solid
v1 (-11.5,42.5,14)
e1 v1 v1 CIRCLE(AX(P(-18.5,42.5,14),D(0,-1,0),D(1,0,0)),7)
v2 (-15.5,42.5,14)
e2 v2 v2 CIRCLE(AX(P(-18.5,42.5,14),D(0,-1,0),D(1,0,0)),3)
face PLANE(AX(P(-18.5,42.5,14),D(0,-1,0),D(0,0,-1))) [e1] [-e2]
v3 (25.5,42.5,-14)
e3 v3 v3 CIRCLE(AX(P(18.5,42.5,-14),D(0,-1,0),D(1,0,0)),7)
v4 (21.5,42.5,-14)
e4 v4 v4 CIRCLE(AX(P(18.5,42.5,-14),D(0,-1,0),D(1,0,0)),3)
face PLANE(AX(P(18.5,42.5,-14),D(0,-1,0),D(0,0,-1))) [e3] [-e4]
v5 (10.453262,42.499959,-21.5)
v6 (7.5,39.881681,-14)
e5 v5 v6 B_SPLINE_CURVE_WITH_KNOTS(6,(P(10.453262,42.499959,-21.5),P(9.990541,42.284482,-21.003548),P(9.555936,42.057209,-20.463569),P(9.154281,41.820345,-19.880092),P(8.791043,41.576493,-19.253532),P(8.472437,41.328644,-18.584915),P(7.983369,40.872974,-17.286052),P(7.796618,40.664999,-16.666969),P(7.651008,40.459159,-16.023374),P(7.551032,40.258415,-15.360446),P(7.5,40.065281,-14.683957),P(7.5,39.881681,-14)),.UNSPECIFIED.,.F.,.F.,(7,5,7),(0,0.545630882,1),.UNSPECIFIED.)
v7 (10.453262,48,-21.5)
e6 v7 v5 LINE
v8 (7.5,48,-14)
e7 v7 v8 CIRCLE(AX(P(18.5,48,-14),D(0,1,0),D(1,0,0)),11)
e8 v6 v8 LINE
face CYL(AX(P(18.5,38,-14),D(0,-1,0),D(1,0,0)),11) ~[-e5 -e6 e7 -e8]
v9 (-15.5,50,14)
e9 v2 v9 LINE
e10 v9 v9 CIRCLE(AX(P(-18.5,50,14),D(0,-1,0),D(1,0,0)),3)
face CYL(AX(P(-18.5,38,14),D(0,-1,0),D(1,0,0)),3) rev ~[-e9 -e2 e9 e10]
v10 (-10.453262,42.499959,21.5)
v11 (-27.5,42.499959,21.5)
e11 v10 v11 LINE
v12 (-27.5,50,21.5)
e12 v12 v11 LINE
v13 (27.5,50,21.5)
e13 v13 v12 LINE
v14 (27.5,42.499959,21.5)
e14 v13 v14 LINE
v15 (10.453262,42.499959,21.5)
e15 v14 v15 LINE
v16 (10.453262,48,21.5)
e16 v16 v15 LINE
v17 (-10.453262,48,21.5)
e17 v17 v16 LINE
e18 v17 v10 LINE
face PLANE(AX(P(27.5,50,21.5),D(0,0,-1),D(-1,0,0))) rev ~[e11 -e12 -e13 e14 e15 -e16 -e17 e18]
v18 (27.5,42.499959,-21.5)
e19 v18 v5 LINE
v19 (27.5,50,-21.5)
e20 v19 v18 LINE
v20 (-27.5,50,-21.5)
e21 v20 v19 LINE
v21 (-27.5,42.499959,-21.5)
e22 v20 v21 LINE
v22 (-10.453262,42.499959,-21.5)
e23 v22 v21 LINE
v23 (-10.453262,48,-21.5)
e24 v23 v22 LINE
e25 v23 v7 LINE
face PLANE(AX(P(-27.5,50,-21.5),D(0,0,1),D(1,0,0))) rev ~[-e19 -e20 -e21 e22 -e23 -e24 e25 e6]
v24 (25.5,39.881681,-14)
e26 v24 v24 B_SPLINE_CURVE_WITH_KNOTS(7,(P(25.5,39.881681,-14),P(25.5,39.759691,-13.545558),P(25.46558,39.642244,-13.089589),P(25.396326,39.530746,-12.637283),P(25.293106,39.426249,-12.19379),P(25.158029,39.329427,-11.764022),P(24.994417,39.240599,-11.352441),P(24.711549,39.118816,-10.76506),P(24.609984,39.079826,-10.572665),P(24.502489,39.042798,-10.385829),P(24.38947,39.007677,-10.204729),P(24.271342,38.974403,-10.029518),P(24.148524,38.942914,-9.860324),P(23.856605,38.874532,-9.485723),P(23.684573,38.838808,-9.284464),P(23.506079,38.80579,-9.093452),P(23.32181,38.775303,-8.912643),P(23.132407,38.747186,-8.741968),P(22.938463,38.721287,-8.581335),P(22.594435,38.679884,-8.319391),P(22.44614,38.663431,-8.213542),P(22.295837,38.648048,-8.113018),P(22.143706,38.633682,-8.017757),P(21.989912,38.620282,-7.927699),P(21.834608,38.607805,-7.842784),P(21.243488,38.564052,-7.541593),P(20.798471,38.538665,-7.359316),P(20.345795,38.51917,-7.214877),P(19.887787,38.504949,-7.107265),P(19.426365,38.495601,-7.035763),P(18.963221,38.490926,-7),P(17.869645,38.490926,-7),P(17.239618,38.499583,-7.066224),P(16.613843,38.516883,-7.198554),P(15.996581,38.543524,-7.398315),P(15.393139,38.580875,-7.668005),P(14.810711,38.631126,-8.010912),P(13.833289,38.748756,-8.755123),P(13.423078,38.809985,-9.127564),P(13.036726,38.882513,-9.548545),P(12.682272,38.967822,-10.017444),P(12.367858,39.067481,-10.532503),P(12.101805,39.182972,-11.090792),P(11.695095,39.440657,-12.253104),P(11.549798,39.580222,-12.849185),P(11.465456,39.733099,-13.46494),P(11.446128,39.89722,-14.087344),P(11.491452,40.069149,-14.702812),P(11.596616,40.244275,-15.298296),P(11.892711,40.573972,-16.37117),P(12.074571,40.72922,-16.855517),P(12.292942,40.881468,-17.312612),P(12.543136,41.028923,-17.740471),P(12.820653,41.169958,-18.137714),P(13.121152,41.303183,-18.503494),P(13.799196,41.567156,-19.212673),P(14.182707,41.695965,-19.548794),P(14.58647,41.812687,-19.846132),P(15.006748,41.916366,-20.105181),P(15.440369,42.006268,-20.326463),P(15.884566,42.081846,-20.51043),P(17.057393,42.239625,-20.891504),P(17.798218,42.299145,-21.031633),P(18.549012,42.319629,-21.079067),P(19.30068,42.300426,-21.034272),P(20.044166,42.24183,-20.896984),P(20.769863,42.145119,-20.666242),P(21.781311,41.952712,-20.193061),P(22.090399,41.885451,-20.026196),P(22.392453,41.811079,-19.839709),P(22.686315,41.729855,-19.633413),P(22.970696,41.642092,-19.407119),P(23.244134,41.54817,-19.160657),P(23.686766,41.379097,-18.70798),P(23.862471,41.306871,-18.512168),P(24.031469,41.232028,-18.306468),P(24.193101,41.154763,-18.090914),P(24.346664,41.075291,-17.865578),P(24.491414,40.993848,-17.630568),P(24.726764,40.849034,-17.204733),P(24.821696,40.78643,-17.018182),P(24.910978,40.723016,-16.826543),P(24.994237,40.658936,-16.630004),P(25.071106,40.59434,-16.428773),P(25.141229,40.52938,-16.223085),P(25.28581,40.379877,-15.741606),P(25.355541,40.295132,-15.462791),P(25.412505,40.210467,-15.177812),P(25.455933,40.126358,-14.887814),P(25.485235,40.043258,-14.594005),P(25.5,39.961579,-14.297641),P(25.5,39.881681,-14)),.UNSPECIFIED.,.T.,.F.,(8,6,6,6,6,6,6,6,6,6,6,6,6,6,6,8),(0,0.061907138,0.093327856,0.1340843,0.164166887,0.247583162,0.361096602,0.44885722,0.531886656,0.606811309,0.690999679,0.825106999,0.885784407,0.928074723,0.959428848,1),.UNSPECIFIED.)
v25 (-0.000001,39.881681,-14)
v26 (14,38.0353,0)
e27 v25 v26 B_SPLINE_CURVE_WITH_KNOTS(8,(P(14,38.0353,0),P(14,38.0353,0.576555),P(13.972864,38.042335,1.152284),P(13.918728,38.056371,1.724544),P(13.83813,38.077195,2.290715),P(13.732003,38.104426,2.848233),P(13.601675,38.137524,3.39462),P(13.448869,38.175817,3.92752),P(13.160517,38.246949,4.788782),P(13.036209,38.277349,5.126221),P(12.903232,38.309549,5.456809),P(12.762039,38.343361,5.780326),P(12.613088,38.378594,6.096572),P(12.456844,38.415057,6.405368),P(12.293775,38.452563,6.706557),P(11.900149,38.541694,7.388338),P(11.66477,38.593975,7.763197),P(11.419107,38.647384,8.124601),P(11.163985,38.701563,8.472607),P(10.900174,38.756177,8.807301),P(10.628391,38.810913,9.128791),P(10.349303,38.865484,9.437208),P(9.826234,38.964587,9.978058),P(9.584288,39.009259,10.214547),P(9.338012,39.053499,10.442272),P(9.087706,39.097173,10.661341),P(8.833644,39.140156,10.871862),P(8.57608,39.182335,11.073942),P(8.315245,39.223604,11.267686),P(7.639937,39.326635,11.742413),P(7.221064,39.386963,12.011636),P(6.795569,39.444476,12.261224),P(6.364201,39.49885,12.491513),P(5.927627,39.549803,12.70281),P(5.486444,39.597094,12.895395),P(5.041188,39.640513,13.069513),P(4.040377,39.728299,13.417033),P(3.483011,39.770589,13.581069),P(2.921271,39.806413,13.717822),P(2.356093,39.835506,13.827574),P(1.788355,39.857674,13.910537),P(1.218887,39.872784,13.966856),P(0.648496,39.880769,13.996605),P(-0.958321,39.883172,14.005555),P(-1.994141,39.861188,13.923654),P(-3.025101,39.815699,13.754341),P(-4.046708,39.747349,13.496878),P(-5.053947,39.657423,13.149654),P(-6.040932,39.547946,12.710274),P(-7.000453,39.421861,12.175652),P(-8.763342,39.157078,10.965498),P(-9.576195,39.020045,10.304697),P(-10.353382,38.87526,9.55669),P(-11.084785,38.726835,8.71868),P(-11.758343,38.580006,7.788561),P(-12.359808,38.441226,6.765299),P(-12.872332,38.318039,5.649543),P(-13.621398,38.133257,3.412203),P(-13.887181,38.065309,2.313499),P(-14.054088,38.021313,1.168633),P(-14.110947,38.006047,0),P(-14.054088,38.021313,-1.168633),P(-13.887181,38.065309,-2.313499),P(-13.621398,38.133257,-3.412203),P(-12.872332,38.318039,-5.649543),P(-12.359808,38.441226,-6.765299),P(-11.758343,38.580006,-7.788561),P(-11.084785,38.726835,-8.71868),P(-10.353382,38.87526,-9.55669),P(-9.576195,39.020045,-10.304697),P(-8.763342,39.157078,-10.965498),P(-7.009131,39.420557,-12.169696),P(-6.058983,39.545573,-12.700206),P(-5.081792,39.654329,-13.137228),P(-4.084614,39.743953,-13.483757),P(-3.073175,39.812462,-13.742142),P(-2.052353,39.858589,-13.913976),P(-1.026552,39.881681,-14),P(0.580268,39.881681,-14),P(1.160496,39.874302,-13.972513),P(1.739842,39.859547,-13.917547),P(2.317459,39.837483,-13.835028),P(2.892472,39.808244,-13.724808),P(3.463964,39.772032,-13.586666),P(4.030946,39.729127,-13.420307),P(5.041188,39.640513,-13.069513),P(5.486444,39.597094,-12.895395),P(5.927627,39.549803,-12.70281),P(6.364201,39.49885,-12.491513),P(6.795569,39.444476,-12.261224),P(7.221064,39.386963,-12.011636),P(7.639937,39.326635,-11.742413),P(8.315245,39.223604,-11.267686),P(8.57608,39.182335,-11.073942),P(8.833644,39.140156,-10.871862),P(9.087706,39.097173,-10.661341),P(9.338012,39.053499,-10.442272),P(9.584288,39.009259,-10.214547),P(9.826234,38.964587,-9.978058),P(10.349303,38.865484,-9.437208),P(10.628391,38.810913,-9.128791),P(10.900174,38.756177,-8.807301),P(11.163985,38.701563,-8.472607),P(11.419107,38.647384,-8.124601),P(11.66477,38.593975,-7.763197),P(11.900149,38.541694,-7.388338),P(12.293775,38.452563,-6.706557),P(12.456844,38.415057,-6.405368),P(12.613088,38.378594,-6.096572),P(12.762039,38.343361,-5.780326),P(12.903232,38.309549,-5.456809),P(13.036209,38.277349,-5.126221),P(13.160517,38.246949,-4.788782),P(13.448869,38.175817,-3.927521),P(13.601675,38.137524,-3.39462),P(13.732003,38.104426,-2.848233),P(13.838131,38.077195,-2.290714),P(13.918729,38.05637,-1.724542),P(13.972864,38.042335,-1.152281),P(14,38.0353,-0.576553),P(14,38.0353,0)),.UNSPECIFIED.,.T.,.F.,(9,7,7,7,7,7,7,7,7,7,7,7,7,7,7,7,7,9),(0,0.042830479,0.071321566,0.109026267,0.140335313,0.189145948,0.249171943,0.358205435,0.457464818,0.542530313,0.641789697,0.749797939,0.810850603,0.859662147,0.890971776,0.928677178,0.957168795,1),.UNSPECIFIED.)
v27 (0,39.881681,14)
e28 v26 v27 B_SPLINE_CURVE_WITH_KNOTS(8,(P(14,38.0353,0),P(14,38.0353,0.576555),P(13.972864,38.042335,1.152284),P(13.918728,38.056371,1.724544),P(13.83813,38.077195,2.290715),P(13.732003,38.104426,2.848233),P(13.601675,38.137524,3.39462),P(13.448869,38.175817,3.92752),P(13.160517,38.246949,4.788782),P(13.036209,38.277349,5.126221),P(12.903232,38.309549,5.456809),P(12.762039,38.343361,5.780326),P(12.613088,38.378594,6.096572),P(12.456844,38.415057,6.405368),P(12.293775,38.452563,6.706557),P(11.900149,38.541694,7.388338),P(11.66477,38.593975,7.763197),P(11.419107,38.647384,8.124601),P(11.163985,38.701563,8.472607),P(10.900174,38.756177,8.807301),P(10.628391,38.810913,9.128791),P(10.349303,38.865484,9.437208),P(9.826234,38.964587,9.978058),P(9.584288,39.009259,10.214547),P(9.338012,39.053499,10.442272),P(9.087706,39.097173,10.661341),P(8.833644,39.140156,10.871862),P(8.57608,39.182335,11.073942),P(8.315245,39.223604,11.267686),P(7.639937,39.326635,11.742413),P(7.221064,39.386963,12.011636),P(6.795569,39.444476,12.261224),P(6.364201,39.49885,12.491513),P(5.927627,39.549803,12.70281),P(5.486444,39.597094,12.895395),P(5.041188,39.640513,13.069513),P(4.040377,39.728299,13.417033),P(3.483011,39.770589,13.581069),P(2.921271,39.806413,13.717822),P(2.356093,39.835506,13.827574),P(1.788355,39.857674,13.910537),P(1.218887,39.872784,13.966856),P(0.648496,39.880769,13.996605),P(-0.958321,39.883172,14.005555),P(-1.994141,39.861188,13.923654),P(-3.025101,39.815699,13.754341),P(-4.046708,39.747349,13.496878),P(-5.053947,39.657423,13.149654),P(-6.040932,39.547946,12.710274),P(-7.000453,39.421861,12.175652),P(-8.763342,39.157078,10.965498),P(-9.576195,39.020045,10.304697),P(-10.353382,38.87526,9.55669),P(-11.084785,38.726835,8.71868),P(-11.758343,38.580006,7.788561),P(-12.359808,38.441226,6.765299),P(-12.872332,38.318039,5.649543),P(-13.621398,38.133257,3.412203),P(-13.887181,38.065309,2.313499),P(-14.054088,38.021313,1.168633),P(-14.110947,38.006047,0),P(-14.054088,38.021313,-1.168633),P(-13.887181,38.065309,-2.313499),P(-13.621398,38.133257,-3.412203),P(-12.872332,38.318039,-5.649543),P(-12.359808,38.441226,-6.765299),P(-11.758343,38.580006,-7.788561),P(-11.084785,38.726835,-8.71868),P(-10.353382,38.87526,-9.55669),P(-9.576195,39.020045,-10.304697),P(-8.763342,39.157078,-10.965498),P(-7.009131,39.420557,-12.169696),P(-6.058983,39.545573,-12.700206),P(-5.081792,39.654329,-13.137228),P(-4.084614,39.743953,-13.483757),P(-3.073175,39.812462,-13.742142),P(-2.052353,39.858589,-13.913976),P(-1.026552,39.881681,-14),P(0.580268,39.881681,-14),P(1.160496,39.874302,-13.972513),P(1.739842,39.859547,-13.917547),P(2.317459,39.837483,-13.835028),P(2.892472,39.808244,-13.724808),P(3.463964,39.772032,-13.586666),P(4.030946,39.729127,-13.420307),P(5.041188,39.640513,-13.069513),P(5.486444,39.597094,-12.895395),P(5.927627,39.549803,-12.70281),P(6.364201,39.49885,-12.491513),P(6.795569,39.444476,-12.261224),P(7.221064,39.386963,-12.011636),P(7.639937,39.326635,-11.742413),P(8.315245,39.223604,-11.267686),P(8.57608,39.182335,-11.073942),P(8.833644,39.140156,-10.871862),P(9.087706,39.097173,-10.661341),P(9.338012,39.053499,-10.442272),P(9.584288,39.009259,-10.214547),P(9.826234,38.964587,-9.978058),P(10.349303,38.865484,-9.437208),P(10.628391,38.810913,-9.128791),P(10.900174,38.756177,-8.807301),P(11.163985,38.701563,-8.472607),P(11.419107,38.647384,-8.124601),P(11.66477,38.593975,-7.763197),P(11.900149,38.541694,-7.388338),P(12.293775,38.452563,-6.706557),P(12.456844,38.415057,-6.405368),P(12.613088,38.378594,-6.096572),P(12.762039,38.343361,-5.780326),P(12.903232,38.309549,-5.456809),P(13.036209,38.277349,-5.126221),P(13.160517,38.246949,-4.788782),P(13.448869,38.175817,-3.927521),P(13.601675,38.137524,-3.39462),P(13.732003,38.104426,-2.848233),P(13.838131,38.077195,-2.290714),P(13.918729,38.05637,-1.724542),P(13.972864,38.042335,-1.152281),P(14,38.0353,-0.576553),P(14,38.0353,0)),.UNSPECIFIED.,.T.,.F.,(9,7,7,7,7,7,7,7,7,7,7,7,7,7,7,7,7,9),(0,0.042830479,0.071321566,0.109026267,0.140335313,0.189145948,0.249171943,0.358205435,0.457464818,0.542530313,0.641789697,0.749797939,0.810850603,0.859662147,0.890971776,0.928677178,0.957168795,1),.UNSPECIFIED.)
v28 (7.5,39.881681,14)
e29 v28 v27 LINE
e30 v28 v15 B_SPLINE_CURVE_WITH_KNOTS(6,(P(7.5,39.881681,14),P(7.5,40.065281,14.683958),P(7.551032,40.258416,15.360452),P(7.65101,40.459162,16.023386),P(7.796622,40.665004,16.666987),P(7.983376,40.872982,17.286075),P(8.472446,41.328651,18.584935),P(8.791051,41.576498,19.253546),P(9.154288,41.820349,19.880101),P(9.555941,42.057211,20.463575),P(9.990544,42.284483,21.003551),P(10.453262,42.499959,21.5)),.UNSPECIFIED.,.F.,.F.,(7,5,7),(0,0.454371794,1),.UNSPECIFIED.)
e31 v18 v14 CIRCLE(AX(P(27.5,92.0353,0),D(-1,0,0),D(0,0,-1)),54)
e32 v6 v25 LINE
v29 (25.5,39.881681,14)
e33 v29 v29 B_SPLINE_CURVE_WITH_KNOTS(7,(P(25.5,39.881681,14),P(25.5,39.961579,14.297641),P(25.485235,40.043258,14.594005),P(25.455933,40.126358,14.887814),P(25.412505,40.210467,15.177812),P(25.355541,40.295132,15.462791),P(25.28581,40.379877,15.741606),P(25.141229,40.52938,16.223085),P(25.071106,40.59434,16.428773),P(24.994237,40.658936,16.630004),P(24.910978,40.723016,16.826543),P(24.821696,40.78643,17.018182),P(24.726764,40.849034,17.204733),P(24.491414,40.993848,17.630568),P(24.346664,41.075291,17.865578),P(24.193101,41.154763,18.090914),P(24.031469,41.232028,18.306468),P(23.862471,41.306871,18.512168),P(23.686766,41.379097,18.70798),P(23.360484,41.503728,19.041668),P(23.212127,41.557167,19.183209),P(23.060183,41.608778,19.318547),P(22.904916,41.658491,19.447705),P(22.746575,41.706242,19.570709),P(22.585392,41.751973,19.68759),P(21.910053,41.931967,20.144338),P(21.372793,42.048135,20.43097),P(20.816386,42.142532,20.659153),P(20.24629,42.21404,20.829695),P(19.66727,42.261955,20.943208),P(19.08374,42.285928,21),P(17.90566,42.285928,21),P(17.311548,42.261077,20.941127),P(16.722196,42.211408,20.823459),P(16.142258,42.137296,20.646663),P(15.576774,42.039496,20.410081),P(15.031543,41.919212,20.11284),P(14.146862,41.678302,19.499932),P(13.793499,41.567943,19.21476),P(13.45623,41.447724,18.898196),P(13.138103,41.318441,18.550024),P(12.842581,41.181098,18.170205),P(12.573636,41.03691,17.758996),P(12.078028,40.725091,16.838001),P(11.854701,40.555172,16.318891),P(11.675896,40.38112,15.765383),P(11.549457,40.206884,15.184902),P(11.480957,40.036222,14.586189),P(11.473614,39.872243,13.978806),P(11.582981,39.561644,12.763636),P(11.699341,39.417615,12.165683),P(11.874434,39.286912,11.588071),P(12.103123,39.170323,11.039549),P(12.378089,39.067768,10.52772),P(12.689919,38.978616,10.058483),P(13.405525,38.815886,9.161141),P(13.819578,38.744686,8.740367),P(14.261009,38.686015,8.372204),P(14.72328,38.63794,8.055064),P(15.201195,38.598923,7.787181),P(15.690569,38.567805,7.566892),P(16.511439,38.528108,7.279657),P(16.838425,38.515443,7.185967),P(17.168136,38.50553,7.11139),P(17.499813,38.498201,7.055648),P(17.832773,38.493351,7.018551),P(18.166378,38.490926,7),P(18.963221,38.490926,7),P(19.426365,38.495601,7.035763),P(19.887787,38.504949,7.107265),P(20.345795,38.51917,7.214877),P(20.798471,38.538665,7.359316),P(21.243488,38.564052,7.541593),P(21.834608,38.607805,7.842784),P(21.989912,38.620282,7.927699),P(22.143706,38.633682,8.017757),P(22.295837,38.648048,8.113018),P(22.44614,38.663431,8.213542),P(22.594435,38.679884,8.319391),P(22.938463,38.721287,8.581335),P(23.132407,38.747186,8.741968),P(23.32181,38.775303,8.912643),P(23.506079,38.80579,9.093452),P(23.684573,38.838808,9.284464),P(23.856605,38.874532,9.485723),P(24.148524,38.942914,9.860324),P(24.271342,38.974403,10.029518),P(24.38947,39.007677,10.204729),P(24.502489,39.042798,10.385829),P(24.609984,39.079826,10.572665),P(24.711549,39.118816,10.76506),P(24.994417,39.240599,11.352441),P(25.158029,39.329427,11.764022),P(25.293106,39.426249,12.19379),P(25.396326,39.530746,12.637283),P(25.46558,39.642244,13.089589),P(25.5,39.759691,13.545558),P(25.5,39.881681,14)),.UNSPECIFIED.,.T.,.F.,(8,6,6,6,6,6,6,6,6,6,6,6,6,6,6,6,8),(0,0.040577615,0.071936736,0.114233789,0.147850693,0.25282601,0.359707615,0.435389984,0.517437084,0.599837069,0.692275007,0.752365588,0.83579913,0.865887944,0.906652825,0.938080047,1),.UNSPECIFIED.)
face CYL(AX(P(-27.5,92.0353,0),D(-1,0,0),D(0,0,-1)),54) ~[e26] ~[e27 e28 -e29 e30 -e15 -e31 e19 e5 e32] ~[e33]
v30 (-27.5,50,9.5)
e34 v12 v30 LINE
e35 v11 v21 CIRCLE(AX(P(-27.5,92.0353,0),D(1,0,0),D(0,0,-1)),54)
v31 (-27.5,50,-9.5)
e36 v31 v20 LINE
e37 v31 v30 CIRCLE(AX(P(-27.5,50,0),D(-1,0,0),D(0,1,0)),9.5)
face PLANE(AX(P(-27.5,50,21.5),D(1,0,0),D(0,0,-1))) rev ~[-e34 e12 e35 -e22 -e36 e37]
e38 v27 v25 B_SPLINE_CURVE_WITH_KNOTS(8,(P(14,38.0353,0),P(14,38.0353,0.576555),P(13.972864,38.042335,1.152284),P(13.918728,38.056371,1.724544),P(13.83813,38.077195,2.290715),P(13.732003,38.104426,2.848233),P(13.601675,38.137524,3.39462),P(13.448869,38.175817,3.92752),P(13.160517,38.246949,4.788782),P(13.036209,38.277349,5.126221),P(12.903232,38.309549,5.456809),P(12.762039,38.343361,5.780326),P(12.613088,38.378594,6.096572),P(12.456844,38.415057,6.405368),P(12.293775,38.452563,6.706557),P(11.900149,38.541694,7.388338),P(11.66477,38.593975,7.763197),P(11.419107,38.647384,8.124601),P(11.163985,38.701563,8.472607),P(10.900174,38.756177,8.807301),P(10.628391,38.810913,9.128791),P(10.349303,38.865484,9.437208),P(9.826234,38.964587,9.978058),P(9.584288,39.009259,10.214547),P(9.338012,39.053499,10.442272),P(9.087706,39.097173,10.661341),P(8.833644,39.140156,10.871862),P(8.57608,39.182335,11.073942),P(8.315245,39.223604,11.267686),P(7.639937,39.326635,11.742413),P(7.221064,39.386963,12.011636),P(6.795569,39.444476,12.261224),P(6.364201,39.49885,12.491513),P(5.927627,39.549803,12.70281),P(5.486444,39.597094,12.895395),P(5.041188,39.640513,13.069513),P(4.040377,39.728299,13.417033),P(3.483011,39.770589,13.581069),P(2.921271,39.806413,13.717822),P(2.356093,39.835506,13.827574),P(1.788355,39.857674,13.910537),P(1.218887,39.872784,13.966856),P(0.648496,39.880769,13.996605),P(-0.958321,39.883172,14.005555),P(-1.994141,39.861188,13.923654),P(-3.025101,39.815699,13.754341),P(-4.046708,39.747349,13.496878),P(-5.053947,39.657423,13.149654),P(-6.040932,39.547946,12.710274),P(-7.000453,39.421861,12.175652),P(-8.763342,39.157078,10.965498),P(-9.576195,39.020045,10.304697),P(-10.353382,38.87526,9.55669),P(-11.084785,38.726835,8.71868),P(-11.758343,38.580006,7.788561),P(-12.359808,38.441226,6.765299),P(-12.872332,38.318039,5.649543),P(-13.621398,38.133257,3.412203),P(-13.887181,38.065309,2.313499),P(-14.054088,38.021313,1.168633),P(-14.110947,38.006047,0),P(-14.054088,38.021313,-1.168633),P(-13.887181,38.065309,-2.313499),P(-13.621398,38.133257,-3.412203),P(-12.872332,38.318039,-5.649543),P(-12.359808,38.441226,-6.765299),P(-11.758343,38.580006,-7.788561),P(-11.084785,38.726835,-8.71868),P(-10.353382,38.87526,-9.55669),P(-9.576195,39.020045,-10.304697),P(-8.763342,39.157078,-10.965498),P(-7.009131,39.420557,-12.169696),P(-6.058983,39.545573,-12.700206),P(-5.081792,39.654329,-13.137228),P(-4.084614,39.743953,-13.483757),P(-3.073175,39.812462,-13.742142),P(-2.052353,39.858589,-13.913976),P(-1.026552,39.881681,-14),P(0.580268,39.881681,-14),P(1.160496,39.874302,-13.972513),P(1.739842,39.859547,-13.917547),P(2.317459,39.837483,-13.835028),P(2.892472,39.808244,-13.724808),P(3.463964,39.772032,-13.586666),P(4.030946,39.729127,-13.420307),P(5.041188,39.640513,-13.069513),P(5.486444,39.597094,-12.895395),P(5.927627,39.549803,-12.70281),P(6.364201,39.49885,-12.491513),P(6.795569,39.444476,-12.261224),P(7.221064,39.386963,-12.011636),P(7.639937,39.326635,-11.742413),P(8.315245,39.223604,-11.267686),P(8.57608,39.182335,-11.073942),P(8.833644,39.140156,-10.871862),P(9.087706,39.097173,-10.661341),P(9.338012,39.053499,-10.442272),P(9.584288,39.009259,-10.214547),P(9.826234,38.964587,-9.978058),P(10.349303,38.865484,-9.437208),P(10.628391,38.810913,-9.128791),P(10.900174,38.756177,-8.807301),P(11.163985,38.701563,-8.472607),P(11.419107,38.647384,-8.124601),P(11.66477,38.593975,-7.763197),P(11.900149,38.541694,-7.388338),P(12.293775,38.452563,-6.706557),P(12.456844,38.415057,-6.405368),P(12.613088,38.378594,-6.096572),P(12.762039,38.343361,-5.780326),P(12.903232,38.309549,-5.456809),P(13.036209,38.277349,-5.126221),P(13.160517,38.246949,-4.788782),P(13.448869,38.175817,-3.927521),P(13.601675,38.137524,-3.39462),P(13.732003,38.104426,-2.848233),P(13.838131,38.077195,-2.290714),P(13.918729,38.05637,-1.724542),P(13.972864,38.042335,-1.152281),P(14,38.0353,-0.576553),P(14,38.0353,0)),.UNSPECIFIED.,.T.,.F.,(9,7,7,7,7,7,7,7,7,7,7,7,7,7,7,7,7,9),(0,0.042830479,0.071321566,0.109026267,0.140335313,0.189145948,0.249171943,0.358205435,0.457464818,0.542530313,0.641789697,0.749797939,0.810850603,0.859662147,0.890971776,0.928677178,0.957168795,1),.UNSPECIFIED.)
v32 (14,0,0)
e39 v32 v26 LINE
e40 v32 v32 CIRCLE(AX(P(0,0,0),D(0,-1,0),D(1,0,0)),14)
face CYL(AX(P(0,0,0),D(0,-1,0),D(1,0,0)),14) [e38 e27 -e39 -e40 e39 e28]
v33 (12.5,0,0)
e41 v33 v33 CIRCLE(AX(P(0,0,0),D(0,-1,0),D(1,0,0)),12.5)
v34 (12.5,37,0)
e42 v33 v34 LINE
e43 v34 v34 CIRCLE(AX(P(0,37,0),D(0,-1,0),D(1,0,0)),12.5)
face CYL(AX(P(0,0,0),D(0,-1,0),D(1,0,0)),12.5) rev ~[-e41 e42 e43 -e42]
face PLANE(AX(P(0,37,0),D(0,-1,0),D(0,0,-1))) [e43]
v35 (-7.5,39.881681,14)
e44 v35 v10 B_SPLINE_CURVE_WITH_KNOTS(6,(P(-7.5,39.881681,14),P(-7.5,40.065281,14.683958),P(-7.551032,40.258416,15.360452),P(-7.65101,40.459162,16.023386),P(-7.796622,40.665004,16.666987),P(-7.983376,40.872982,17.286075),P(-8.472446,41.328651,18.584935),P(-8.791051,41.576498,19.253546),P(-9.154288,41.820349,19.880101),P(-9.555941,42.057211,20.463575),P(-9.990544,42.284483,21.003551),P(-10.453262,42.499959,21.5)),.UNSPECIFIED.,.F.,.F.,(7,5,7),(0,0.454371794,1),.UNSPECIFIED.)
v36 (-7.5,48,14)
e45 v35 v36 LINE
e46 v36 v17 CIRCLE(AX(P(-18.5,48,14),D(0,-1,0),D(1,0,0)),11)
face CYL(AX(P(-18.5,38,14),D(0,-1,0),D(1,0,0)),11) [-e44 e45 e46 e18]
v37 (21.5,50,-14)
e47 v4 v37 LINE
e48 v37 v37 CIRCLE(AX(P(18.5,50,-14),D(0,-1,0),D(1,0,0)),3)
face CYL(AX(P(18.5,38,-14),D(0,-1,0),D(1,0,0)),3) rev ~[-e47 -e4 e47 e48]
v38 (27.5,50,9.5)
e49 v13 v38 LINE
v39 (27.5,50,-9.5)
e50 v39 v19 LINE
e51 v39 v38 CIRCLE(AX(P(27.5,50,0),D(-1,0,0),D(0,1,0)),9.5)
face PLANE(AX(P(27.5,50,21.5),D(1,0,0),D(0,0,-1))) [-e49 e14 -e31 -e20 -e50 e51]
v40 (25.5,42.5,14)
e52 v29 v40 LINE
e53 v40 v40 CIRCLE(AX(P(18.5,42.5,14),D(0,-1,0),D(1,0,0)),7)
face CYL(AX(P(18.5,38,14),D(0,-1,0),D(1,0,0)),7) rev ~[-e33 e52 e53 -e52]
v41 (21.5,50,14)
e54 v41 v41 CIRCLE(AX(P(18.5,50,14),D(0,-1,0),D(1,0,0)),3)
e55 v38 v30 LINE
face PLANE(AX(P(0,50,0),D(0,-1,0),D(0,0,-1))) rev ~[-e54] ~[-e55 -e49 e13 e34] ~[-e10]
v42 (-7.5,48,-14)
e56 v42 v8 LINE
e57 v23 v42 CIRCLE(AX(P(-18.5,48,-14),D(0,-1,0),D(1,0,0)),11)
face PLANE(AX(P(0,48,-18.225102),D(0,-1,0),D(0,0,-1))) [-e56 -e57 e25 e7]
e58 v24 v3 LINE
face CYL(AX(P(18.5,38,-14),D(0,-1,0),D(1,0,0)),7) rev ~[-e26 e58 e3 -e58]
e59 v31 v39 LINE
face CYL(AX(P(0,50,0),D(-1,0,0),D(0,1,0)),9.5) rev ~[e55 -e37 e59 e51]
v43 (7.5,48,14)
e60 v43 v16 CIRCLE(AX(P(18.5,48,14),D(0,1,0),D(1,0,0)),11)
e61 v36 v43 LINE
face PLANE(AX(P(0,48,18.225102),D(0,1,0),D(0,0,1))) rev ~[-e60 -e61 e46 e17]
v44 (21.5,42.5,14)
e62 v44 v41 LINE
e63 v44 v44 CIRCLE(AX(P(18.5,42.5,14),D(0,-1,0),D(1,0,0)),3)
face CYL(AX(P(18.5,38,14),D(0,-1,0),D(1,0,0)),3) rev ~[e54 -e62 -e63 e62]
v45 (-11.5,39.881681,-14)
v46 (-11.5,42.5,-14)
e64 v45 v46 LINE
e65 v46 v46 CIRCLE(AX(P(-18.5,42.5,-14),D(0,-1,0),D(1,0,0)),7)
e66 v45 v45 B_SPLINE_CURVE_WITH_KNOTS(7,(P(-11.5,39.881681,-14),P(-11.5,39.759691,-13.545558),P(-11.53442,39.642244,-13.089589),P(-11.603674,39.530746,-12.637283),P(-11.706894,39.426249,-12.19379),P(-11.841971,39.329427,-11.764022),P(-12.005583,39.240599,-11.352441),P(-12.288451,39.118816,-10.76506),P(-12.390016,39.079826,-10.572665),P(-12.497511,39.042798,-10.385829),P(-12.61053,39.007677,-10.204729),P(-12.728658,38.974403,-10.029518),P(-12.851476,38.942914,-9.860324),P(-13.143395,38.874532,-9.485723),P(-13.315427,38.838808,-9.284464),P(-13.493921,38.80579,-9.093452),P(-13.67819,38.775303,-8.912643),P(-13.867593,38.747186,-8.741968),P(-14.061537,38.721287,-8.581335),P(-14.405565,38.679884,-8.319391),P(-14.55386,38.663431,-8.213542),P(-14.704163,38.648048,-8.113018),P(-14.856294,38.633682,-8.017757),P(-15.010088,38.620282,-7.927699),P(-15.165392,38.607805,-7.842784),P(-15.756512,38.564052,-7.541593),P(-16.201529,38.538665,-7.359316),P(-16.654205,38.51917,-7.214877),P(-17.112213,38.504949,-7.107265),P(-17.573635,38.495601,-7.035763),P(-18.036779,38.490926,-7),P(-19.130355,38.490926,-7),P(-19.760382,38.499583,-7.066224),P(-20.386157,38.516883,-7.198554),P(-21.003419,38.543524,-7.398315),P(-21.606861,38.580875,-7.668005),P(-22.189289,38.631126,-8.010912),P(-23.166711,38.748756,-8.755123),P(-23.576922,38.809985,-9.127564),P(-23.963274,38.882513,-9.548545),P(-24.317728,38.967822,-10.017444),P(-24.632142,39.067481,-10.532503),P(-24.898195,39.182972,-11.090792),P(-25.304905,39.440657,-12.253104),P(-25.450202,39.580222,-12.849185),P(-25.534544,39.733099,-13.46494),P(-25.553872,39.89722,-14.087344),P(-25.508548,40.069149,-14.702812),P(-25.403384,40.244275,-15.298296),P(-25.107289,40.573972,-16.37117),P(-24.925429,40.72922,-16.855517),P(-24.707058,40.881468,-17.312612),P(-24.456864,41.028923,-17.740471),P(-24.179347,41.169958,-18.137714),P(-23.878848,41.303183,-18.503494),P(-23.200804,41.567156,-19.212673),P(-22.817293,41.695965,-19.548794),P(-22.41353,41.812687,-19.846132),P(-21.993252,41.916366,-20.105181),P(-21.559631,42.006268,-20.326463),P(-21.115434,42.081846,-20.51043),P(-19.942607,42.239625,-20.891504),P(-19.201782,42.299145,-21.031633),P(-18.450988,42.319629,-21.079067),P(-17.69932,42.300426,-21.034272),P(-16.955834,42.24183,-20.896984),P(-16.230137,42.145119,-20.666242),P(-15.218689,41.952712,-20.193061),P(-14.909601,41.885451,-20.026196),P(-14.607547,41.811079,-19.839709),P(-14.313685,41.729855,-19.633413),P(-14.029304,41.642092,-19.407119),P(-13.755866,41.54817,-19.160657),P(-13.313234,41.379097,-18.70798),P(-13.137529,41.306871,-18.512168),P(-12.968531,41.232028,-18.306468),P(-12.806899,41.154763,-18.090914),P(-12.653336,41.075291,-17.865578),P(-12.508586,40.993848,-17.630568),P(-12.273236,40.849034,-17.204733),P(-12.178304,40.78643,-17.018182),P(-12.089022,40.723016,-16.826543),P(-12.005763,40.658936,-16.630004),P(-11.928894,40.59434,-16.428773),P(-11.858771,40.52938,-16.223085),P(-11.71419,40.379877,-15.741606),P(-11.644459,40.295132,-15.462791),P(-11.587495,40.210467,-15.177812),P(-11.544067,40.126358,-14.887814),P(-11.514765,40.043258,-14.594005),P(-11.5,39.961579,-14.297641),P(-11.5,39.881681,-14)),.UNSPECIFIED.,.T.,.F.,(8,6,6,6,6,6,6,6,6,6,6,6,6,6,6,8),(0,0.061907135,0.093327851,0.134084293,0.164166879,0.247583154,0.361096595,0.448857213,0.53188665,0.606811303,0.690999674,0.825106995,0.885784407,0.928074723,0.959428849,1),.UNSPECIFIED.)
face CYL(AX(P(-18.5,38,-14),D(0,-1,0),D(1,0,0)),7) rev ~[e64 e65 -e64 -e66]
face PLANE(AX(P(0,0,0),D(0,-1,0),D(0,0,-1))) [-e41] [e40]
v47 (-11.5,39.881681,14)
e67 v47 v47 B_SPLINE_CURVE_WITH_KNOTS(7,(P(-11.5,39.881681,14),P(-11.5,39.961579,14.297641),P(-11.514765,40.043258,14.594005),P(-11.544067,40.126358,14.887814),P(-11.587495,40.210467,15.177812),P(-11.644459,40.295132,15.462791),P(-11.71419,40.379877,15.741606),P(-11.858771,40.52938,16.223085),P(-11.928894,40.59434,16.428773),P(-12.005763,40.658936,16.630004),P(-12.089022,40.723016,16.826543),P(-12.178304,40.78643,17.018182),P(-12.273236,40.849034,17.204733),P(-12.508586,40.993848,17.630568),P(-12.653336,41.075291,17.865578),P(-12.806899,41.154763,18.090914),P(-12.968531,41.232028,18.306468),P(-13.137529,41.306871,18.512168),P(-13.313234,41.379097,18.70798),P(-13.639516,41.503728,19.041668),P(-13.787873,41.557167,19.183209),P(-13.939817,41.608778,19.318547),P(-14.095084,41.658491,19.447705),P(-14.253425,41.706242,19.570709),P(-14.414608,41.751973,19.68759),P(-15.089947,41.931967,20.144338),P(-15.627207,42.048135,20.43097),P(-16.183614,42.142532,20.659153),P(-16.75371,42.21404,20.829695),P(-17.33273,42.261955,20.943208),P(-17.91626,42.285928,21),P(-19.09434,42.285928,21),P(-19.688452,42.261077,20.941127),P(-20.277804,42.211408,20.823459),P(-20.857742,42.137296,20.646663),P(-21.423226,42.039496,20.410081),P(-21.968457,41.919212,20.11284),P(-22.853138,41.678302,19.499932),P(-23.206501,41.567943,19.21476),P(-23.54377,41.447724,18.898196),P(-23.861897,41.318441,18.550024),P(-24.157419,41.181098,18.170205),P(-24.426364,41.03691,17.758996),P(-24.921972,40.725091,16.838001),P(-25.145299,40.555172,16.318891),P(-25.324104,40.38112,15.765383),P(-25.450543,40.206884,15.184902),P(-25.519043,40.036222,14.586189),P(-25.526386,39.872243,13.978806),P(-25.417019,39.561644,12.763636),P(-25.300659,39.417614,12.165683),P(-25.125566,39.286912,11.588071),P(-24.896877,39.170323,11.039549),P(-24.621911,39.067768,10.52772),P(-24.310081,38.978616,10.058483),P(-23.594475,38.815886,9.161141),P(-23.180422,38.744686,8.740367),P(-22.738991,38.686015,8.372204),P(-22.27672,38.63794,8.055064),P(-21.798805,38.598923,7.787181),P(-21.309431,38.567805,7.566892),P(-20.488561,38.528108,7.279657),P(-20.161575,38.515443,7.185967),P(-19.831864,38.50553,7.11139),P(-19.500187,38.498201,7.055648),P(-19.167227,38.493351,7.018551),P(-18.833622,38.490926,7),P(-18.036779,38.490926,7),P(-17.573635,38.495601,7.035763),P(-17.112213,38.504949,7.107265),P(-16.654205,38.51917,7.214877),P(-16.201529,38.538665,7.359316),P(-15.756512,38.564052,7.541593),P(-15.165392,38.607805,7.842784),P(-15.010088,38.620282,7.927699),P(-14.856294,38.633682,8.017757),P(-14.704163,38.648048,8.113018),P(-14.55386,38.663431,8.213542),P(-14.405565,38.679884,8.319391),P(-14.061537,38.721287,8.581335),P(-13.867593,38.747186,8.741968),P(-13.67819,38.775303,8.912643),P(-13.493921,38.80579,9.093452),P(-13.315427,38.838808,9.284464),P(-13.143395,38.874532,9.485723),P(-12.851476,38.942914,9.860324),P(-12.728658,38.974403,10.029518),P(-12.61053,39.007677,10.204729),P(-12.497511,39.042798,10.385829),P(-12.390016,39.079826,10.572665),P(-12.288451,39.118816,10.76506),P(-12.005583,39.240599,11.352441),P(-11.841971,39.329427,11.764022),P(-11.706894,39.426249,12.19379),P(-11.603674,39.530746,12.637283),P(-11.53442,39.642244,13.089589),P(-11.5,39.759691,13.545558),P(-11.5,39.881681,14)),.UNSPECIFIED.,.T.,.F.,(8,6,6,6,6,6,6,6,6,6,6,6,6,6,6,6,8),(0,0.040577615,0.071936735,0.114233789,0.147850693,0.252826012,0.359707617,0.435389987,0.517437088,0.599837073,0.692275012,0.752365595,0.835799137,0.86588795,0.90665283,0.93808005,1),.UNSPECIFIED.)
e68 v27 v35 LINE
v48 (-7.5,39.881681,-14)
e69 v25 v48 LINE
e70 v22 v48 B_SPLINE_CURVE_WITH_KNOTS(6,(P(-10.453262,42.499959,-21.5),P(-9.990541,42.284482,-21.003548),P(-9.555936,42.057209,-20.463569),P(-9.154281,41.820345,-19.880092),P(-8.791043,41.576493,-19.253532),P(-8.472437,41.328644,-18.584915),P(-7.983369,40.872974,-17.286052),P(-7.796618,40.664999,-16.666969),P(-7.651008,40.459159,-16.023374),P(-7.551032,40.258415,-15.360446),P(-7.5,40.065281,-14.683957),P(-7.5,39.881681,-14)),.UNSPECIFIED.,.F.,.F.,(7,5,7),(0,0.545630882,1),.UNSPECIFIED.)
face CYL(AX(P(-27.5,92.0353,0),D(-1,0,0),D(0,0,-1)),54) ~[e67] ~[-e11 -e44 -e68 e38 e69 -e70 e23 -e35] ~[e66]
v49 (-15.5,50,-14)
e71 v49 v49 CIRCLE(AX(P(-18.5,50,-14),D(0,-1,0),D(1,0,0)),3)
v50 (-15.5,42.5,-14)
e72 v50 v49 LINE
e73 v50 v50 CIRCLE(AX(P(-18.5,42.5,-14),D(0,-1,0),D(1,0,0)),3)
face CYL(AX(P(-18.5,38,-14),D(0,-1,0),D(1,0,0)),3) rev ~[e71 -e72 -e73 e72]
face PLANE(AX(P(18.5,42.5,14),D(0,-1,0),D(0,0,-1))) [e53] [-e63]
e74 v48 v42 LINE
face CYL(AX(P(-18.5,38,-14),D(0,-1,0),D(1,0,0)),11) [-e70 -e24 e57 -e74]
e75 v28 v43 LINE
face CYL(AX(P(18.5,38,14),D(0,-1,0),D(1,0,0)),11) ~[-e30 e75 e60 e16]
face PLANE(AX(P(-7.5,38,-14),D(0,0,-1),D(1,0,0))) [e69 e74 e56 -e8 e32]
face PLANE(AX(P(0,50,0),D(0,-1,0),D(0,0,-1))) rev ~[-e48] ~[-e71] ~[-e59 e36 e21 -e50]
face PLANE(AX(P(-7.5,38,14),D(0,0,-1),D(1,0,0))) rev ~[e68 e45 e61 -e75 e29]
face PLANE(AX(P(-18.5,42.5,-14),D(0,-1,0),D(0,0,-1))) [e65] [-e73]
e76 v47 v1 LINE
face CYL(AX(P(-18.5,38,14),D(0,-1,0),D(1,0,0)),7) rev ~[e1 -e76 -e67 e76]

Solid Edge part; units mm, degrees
sketch "Sketch1" plane through (0, 50, 11.75) normal (0, -1, 0) x (1, 0, 0)
  line L0 (-27.5, -33.25) -> (27.5, -33.25)
  line L1 (27.5, 9.75) -> (27.5, -33.25)
  line L2 (27.5, 9.75) -> (-27.5, 9.75)
  line L3 (-27.5, 9.75) -> (-27.5, -33.25)
  dimension "D1" = 55
  dimension "D2" = 43
extrude "ExtrudedProtrusion_2" add sketch "Sketch1" along normal blind 12
sketch "Sketch2" plane through (0, 0, 0) normal (1, 0, 0) x (0, 1, 0)
  arc A0 (50, -9.5) -> (50, 9.5) centre (50, 0) cw
  line L0 (50, 9.5) -> (50, -9.5)
  dimension "D1" = 9.5
  dimension "D2" = 19
extrude "Cutout1" cut sketch "Sketch2" along normal through all and the other way through all
sketch "Sketch3" plane through (-27.5, 44, 0) normal (-1, 0, 0) x (0, 0, -1)
  line L0 (-21.5, -6) -> (-21.5, 1.5)
  arc A0 (-21.5, 1.5) -> (21.5, 1.5) centre (0, -48.0353) cw
  line L1 (21.5, -6) -> (21.5, 1.5)
  line L2 (27.9876, -6) -> (21.5, -6)
  line L3 (27.9876, 18.1819) -> (27.9876, -6)
  line L4 (-27.4197, 18.1819) -> (27.9876, 18.1819)
  line L5 (-27.4197, -6) -> (-27.4197, 18.1819)
  line L6 (-21.5, -6) -> (-27.4197, -6)
  dimension "D1" = 7.5
  dimension "D2" = 54
extrude "Cutout2" cut sketch "Sketch3" against normal up to next
sketch "Sketch4" plane through (0, 0, 0) normal (0, -1, 0) x (1, 0, 0)
  circle A0 centre (0, 0) radius 14
  dimension "D1" = 28
extrude "Protrusion1" add sketch "Sketch4" against normal up to next
sketch "Sketch5" plane through (0, 0, 0) normal (0, -1, 0) x (1, 0, 0)
  circle A0 centre (0, 0) radius 12.5
  dimension "D1" = 25
extrude "Cutout3" cut sketch "Sketch5" against normal blind 37
sketch "Sketch6" plane through (0, 38, 0) normal (0, -1, 0) x (1, 0, 0)
  circle A0 centre (-18.5, -14) radius 3
  circle A1 centre (18.5, -14) radius 3
  circle A2 centre (18.5, 14) radius 3
  circle A3 centre (-18.5, 14) radius 3
  dimension "D1" = 7.5
  dimension "D2" = 9
  dimension "D3" = 9
extrude "Cutout4" cut sketch "Sketch6" against normal through all
sketch "Sketch7" plane through (0, 38, 0) normal (0, -1, 0) x (1, 0, 0)
  circle A0 centre (-18.5, 14) radius 7
  circle A1 centre (18.5, 14) radius 7
  circle A2 centre (-18.5, -14) radius 7
  circle A3 centre (18.5, -14) radius 7
extrude "ExtrudedCutout_8" cut sketch "Sketch7" against normal blind 4.5
sketch "Sketch8" plane through (0, 38, 0) normal (0, -1, 0) x (1, 0, 0)
  arc A0 (10.4533, -21.5) -> (7.5, -14) centre (18.5, -14) cw
  line L0 (-7.5, -14) -> (7.5, -14)
  arc A1 (-10.4533, -21.5) -> (-7.5, -14) centre (-18.5, -14) ccw
  line L1 (-10.4533, -21.5) -> (10.4533, -21.5)
  line L2 (-10.4533, 21.5) -> (10.4533, 21.5)
  arc A2 (7.5, 14) -> (10.4533, 21.5) centre (18.5, 14) cw
  line L3 (-7.5, 14) -> (7.5, 14)
  arc A3 (-7.5, 14) -> (-10.4533, 21.5) centre (-18.5, 14) ccw
  dimension "D1" = 15
  dimension "D2" = 7.5
extrude "ExtrudedCutout_9" cut sketch "Sketch8" against normal blind 10
properties material "Aluminum, 1060"
